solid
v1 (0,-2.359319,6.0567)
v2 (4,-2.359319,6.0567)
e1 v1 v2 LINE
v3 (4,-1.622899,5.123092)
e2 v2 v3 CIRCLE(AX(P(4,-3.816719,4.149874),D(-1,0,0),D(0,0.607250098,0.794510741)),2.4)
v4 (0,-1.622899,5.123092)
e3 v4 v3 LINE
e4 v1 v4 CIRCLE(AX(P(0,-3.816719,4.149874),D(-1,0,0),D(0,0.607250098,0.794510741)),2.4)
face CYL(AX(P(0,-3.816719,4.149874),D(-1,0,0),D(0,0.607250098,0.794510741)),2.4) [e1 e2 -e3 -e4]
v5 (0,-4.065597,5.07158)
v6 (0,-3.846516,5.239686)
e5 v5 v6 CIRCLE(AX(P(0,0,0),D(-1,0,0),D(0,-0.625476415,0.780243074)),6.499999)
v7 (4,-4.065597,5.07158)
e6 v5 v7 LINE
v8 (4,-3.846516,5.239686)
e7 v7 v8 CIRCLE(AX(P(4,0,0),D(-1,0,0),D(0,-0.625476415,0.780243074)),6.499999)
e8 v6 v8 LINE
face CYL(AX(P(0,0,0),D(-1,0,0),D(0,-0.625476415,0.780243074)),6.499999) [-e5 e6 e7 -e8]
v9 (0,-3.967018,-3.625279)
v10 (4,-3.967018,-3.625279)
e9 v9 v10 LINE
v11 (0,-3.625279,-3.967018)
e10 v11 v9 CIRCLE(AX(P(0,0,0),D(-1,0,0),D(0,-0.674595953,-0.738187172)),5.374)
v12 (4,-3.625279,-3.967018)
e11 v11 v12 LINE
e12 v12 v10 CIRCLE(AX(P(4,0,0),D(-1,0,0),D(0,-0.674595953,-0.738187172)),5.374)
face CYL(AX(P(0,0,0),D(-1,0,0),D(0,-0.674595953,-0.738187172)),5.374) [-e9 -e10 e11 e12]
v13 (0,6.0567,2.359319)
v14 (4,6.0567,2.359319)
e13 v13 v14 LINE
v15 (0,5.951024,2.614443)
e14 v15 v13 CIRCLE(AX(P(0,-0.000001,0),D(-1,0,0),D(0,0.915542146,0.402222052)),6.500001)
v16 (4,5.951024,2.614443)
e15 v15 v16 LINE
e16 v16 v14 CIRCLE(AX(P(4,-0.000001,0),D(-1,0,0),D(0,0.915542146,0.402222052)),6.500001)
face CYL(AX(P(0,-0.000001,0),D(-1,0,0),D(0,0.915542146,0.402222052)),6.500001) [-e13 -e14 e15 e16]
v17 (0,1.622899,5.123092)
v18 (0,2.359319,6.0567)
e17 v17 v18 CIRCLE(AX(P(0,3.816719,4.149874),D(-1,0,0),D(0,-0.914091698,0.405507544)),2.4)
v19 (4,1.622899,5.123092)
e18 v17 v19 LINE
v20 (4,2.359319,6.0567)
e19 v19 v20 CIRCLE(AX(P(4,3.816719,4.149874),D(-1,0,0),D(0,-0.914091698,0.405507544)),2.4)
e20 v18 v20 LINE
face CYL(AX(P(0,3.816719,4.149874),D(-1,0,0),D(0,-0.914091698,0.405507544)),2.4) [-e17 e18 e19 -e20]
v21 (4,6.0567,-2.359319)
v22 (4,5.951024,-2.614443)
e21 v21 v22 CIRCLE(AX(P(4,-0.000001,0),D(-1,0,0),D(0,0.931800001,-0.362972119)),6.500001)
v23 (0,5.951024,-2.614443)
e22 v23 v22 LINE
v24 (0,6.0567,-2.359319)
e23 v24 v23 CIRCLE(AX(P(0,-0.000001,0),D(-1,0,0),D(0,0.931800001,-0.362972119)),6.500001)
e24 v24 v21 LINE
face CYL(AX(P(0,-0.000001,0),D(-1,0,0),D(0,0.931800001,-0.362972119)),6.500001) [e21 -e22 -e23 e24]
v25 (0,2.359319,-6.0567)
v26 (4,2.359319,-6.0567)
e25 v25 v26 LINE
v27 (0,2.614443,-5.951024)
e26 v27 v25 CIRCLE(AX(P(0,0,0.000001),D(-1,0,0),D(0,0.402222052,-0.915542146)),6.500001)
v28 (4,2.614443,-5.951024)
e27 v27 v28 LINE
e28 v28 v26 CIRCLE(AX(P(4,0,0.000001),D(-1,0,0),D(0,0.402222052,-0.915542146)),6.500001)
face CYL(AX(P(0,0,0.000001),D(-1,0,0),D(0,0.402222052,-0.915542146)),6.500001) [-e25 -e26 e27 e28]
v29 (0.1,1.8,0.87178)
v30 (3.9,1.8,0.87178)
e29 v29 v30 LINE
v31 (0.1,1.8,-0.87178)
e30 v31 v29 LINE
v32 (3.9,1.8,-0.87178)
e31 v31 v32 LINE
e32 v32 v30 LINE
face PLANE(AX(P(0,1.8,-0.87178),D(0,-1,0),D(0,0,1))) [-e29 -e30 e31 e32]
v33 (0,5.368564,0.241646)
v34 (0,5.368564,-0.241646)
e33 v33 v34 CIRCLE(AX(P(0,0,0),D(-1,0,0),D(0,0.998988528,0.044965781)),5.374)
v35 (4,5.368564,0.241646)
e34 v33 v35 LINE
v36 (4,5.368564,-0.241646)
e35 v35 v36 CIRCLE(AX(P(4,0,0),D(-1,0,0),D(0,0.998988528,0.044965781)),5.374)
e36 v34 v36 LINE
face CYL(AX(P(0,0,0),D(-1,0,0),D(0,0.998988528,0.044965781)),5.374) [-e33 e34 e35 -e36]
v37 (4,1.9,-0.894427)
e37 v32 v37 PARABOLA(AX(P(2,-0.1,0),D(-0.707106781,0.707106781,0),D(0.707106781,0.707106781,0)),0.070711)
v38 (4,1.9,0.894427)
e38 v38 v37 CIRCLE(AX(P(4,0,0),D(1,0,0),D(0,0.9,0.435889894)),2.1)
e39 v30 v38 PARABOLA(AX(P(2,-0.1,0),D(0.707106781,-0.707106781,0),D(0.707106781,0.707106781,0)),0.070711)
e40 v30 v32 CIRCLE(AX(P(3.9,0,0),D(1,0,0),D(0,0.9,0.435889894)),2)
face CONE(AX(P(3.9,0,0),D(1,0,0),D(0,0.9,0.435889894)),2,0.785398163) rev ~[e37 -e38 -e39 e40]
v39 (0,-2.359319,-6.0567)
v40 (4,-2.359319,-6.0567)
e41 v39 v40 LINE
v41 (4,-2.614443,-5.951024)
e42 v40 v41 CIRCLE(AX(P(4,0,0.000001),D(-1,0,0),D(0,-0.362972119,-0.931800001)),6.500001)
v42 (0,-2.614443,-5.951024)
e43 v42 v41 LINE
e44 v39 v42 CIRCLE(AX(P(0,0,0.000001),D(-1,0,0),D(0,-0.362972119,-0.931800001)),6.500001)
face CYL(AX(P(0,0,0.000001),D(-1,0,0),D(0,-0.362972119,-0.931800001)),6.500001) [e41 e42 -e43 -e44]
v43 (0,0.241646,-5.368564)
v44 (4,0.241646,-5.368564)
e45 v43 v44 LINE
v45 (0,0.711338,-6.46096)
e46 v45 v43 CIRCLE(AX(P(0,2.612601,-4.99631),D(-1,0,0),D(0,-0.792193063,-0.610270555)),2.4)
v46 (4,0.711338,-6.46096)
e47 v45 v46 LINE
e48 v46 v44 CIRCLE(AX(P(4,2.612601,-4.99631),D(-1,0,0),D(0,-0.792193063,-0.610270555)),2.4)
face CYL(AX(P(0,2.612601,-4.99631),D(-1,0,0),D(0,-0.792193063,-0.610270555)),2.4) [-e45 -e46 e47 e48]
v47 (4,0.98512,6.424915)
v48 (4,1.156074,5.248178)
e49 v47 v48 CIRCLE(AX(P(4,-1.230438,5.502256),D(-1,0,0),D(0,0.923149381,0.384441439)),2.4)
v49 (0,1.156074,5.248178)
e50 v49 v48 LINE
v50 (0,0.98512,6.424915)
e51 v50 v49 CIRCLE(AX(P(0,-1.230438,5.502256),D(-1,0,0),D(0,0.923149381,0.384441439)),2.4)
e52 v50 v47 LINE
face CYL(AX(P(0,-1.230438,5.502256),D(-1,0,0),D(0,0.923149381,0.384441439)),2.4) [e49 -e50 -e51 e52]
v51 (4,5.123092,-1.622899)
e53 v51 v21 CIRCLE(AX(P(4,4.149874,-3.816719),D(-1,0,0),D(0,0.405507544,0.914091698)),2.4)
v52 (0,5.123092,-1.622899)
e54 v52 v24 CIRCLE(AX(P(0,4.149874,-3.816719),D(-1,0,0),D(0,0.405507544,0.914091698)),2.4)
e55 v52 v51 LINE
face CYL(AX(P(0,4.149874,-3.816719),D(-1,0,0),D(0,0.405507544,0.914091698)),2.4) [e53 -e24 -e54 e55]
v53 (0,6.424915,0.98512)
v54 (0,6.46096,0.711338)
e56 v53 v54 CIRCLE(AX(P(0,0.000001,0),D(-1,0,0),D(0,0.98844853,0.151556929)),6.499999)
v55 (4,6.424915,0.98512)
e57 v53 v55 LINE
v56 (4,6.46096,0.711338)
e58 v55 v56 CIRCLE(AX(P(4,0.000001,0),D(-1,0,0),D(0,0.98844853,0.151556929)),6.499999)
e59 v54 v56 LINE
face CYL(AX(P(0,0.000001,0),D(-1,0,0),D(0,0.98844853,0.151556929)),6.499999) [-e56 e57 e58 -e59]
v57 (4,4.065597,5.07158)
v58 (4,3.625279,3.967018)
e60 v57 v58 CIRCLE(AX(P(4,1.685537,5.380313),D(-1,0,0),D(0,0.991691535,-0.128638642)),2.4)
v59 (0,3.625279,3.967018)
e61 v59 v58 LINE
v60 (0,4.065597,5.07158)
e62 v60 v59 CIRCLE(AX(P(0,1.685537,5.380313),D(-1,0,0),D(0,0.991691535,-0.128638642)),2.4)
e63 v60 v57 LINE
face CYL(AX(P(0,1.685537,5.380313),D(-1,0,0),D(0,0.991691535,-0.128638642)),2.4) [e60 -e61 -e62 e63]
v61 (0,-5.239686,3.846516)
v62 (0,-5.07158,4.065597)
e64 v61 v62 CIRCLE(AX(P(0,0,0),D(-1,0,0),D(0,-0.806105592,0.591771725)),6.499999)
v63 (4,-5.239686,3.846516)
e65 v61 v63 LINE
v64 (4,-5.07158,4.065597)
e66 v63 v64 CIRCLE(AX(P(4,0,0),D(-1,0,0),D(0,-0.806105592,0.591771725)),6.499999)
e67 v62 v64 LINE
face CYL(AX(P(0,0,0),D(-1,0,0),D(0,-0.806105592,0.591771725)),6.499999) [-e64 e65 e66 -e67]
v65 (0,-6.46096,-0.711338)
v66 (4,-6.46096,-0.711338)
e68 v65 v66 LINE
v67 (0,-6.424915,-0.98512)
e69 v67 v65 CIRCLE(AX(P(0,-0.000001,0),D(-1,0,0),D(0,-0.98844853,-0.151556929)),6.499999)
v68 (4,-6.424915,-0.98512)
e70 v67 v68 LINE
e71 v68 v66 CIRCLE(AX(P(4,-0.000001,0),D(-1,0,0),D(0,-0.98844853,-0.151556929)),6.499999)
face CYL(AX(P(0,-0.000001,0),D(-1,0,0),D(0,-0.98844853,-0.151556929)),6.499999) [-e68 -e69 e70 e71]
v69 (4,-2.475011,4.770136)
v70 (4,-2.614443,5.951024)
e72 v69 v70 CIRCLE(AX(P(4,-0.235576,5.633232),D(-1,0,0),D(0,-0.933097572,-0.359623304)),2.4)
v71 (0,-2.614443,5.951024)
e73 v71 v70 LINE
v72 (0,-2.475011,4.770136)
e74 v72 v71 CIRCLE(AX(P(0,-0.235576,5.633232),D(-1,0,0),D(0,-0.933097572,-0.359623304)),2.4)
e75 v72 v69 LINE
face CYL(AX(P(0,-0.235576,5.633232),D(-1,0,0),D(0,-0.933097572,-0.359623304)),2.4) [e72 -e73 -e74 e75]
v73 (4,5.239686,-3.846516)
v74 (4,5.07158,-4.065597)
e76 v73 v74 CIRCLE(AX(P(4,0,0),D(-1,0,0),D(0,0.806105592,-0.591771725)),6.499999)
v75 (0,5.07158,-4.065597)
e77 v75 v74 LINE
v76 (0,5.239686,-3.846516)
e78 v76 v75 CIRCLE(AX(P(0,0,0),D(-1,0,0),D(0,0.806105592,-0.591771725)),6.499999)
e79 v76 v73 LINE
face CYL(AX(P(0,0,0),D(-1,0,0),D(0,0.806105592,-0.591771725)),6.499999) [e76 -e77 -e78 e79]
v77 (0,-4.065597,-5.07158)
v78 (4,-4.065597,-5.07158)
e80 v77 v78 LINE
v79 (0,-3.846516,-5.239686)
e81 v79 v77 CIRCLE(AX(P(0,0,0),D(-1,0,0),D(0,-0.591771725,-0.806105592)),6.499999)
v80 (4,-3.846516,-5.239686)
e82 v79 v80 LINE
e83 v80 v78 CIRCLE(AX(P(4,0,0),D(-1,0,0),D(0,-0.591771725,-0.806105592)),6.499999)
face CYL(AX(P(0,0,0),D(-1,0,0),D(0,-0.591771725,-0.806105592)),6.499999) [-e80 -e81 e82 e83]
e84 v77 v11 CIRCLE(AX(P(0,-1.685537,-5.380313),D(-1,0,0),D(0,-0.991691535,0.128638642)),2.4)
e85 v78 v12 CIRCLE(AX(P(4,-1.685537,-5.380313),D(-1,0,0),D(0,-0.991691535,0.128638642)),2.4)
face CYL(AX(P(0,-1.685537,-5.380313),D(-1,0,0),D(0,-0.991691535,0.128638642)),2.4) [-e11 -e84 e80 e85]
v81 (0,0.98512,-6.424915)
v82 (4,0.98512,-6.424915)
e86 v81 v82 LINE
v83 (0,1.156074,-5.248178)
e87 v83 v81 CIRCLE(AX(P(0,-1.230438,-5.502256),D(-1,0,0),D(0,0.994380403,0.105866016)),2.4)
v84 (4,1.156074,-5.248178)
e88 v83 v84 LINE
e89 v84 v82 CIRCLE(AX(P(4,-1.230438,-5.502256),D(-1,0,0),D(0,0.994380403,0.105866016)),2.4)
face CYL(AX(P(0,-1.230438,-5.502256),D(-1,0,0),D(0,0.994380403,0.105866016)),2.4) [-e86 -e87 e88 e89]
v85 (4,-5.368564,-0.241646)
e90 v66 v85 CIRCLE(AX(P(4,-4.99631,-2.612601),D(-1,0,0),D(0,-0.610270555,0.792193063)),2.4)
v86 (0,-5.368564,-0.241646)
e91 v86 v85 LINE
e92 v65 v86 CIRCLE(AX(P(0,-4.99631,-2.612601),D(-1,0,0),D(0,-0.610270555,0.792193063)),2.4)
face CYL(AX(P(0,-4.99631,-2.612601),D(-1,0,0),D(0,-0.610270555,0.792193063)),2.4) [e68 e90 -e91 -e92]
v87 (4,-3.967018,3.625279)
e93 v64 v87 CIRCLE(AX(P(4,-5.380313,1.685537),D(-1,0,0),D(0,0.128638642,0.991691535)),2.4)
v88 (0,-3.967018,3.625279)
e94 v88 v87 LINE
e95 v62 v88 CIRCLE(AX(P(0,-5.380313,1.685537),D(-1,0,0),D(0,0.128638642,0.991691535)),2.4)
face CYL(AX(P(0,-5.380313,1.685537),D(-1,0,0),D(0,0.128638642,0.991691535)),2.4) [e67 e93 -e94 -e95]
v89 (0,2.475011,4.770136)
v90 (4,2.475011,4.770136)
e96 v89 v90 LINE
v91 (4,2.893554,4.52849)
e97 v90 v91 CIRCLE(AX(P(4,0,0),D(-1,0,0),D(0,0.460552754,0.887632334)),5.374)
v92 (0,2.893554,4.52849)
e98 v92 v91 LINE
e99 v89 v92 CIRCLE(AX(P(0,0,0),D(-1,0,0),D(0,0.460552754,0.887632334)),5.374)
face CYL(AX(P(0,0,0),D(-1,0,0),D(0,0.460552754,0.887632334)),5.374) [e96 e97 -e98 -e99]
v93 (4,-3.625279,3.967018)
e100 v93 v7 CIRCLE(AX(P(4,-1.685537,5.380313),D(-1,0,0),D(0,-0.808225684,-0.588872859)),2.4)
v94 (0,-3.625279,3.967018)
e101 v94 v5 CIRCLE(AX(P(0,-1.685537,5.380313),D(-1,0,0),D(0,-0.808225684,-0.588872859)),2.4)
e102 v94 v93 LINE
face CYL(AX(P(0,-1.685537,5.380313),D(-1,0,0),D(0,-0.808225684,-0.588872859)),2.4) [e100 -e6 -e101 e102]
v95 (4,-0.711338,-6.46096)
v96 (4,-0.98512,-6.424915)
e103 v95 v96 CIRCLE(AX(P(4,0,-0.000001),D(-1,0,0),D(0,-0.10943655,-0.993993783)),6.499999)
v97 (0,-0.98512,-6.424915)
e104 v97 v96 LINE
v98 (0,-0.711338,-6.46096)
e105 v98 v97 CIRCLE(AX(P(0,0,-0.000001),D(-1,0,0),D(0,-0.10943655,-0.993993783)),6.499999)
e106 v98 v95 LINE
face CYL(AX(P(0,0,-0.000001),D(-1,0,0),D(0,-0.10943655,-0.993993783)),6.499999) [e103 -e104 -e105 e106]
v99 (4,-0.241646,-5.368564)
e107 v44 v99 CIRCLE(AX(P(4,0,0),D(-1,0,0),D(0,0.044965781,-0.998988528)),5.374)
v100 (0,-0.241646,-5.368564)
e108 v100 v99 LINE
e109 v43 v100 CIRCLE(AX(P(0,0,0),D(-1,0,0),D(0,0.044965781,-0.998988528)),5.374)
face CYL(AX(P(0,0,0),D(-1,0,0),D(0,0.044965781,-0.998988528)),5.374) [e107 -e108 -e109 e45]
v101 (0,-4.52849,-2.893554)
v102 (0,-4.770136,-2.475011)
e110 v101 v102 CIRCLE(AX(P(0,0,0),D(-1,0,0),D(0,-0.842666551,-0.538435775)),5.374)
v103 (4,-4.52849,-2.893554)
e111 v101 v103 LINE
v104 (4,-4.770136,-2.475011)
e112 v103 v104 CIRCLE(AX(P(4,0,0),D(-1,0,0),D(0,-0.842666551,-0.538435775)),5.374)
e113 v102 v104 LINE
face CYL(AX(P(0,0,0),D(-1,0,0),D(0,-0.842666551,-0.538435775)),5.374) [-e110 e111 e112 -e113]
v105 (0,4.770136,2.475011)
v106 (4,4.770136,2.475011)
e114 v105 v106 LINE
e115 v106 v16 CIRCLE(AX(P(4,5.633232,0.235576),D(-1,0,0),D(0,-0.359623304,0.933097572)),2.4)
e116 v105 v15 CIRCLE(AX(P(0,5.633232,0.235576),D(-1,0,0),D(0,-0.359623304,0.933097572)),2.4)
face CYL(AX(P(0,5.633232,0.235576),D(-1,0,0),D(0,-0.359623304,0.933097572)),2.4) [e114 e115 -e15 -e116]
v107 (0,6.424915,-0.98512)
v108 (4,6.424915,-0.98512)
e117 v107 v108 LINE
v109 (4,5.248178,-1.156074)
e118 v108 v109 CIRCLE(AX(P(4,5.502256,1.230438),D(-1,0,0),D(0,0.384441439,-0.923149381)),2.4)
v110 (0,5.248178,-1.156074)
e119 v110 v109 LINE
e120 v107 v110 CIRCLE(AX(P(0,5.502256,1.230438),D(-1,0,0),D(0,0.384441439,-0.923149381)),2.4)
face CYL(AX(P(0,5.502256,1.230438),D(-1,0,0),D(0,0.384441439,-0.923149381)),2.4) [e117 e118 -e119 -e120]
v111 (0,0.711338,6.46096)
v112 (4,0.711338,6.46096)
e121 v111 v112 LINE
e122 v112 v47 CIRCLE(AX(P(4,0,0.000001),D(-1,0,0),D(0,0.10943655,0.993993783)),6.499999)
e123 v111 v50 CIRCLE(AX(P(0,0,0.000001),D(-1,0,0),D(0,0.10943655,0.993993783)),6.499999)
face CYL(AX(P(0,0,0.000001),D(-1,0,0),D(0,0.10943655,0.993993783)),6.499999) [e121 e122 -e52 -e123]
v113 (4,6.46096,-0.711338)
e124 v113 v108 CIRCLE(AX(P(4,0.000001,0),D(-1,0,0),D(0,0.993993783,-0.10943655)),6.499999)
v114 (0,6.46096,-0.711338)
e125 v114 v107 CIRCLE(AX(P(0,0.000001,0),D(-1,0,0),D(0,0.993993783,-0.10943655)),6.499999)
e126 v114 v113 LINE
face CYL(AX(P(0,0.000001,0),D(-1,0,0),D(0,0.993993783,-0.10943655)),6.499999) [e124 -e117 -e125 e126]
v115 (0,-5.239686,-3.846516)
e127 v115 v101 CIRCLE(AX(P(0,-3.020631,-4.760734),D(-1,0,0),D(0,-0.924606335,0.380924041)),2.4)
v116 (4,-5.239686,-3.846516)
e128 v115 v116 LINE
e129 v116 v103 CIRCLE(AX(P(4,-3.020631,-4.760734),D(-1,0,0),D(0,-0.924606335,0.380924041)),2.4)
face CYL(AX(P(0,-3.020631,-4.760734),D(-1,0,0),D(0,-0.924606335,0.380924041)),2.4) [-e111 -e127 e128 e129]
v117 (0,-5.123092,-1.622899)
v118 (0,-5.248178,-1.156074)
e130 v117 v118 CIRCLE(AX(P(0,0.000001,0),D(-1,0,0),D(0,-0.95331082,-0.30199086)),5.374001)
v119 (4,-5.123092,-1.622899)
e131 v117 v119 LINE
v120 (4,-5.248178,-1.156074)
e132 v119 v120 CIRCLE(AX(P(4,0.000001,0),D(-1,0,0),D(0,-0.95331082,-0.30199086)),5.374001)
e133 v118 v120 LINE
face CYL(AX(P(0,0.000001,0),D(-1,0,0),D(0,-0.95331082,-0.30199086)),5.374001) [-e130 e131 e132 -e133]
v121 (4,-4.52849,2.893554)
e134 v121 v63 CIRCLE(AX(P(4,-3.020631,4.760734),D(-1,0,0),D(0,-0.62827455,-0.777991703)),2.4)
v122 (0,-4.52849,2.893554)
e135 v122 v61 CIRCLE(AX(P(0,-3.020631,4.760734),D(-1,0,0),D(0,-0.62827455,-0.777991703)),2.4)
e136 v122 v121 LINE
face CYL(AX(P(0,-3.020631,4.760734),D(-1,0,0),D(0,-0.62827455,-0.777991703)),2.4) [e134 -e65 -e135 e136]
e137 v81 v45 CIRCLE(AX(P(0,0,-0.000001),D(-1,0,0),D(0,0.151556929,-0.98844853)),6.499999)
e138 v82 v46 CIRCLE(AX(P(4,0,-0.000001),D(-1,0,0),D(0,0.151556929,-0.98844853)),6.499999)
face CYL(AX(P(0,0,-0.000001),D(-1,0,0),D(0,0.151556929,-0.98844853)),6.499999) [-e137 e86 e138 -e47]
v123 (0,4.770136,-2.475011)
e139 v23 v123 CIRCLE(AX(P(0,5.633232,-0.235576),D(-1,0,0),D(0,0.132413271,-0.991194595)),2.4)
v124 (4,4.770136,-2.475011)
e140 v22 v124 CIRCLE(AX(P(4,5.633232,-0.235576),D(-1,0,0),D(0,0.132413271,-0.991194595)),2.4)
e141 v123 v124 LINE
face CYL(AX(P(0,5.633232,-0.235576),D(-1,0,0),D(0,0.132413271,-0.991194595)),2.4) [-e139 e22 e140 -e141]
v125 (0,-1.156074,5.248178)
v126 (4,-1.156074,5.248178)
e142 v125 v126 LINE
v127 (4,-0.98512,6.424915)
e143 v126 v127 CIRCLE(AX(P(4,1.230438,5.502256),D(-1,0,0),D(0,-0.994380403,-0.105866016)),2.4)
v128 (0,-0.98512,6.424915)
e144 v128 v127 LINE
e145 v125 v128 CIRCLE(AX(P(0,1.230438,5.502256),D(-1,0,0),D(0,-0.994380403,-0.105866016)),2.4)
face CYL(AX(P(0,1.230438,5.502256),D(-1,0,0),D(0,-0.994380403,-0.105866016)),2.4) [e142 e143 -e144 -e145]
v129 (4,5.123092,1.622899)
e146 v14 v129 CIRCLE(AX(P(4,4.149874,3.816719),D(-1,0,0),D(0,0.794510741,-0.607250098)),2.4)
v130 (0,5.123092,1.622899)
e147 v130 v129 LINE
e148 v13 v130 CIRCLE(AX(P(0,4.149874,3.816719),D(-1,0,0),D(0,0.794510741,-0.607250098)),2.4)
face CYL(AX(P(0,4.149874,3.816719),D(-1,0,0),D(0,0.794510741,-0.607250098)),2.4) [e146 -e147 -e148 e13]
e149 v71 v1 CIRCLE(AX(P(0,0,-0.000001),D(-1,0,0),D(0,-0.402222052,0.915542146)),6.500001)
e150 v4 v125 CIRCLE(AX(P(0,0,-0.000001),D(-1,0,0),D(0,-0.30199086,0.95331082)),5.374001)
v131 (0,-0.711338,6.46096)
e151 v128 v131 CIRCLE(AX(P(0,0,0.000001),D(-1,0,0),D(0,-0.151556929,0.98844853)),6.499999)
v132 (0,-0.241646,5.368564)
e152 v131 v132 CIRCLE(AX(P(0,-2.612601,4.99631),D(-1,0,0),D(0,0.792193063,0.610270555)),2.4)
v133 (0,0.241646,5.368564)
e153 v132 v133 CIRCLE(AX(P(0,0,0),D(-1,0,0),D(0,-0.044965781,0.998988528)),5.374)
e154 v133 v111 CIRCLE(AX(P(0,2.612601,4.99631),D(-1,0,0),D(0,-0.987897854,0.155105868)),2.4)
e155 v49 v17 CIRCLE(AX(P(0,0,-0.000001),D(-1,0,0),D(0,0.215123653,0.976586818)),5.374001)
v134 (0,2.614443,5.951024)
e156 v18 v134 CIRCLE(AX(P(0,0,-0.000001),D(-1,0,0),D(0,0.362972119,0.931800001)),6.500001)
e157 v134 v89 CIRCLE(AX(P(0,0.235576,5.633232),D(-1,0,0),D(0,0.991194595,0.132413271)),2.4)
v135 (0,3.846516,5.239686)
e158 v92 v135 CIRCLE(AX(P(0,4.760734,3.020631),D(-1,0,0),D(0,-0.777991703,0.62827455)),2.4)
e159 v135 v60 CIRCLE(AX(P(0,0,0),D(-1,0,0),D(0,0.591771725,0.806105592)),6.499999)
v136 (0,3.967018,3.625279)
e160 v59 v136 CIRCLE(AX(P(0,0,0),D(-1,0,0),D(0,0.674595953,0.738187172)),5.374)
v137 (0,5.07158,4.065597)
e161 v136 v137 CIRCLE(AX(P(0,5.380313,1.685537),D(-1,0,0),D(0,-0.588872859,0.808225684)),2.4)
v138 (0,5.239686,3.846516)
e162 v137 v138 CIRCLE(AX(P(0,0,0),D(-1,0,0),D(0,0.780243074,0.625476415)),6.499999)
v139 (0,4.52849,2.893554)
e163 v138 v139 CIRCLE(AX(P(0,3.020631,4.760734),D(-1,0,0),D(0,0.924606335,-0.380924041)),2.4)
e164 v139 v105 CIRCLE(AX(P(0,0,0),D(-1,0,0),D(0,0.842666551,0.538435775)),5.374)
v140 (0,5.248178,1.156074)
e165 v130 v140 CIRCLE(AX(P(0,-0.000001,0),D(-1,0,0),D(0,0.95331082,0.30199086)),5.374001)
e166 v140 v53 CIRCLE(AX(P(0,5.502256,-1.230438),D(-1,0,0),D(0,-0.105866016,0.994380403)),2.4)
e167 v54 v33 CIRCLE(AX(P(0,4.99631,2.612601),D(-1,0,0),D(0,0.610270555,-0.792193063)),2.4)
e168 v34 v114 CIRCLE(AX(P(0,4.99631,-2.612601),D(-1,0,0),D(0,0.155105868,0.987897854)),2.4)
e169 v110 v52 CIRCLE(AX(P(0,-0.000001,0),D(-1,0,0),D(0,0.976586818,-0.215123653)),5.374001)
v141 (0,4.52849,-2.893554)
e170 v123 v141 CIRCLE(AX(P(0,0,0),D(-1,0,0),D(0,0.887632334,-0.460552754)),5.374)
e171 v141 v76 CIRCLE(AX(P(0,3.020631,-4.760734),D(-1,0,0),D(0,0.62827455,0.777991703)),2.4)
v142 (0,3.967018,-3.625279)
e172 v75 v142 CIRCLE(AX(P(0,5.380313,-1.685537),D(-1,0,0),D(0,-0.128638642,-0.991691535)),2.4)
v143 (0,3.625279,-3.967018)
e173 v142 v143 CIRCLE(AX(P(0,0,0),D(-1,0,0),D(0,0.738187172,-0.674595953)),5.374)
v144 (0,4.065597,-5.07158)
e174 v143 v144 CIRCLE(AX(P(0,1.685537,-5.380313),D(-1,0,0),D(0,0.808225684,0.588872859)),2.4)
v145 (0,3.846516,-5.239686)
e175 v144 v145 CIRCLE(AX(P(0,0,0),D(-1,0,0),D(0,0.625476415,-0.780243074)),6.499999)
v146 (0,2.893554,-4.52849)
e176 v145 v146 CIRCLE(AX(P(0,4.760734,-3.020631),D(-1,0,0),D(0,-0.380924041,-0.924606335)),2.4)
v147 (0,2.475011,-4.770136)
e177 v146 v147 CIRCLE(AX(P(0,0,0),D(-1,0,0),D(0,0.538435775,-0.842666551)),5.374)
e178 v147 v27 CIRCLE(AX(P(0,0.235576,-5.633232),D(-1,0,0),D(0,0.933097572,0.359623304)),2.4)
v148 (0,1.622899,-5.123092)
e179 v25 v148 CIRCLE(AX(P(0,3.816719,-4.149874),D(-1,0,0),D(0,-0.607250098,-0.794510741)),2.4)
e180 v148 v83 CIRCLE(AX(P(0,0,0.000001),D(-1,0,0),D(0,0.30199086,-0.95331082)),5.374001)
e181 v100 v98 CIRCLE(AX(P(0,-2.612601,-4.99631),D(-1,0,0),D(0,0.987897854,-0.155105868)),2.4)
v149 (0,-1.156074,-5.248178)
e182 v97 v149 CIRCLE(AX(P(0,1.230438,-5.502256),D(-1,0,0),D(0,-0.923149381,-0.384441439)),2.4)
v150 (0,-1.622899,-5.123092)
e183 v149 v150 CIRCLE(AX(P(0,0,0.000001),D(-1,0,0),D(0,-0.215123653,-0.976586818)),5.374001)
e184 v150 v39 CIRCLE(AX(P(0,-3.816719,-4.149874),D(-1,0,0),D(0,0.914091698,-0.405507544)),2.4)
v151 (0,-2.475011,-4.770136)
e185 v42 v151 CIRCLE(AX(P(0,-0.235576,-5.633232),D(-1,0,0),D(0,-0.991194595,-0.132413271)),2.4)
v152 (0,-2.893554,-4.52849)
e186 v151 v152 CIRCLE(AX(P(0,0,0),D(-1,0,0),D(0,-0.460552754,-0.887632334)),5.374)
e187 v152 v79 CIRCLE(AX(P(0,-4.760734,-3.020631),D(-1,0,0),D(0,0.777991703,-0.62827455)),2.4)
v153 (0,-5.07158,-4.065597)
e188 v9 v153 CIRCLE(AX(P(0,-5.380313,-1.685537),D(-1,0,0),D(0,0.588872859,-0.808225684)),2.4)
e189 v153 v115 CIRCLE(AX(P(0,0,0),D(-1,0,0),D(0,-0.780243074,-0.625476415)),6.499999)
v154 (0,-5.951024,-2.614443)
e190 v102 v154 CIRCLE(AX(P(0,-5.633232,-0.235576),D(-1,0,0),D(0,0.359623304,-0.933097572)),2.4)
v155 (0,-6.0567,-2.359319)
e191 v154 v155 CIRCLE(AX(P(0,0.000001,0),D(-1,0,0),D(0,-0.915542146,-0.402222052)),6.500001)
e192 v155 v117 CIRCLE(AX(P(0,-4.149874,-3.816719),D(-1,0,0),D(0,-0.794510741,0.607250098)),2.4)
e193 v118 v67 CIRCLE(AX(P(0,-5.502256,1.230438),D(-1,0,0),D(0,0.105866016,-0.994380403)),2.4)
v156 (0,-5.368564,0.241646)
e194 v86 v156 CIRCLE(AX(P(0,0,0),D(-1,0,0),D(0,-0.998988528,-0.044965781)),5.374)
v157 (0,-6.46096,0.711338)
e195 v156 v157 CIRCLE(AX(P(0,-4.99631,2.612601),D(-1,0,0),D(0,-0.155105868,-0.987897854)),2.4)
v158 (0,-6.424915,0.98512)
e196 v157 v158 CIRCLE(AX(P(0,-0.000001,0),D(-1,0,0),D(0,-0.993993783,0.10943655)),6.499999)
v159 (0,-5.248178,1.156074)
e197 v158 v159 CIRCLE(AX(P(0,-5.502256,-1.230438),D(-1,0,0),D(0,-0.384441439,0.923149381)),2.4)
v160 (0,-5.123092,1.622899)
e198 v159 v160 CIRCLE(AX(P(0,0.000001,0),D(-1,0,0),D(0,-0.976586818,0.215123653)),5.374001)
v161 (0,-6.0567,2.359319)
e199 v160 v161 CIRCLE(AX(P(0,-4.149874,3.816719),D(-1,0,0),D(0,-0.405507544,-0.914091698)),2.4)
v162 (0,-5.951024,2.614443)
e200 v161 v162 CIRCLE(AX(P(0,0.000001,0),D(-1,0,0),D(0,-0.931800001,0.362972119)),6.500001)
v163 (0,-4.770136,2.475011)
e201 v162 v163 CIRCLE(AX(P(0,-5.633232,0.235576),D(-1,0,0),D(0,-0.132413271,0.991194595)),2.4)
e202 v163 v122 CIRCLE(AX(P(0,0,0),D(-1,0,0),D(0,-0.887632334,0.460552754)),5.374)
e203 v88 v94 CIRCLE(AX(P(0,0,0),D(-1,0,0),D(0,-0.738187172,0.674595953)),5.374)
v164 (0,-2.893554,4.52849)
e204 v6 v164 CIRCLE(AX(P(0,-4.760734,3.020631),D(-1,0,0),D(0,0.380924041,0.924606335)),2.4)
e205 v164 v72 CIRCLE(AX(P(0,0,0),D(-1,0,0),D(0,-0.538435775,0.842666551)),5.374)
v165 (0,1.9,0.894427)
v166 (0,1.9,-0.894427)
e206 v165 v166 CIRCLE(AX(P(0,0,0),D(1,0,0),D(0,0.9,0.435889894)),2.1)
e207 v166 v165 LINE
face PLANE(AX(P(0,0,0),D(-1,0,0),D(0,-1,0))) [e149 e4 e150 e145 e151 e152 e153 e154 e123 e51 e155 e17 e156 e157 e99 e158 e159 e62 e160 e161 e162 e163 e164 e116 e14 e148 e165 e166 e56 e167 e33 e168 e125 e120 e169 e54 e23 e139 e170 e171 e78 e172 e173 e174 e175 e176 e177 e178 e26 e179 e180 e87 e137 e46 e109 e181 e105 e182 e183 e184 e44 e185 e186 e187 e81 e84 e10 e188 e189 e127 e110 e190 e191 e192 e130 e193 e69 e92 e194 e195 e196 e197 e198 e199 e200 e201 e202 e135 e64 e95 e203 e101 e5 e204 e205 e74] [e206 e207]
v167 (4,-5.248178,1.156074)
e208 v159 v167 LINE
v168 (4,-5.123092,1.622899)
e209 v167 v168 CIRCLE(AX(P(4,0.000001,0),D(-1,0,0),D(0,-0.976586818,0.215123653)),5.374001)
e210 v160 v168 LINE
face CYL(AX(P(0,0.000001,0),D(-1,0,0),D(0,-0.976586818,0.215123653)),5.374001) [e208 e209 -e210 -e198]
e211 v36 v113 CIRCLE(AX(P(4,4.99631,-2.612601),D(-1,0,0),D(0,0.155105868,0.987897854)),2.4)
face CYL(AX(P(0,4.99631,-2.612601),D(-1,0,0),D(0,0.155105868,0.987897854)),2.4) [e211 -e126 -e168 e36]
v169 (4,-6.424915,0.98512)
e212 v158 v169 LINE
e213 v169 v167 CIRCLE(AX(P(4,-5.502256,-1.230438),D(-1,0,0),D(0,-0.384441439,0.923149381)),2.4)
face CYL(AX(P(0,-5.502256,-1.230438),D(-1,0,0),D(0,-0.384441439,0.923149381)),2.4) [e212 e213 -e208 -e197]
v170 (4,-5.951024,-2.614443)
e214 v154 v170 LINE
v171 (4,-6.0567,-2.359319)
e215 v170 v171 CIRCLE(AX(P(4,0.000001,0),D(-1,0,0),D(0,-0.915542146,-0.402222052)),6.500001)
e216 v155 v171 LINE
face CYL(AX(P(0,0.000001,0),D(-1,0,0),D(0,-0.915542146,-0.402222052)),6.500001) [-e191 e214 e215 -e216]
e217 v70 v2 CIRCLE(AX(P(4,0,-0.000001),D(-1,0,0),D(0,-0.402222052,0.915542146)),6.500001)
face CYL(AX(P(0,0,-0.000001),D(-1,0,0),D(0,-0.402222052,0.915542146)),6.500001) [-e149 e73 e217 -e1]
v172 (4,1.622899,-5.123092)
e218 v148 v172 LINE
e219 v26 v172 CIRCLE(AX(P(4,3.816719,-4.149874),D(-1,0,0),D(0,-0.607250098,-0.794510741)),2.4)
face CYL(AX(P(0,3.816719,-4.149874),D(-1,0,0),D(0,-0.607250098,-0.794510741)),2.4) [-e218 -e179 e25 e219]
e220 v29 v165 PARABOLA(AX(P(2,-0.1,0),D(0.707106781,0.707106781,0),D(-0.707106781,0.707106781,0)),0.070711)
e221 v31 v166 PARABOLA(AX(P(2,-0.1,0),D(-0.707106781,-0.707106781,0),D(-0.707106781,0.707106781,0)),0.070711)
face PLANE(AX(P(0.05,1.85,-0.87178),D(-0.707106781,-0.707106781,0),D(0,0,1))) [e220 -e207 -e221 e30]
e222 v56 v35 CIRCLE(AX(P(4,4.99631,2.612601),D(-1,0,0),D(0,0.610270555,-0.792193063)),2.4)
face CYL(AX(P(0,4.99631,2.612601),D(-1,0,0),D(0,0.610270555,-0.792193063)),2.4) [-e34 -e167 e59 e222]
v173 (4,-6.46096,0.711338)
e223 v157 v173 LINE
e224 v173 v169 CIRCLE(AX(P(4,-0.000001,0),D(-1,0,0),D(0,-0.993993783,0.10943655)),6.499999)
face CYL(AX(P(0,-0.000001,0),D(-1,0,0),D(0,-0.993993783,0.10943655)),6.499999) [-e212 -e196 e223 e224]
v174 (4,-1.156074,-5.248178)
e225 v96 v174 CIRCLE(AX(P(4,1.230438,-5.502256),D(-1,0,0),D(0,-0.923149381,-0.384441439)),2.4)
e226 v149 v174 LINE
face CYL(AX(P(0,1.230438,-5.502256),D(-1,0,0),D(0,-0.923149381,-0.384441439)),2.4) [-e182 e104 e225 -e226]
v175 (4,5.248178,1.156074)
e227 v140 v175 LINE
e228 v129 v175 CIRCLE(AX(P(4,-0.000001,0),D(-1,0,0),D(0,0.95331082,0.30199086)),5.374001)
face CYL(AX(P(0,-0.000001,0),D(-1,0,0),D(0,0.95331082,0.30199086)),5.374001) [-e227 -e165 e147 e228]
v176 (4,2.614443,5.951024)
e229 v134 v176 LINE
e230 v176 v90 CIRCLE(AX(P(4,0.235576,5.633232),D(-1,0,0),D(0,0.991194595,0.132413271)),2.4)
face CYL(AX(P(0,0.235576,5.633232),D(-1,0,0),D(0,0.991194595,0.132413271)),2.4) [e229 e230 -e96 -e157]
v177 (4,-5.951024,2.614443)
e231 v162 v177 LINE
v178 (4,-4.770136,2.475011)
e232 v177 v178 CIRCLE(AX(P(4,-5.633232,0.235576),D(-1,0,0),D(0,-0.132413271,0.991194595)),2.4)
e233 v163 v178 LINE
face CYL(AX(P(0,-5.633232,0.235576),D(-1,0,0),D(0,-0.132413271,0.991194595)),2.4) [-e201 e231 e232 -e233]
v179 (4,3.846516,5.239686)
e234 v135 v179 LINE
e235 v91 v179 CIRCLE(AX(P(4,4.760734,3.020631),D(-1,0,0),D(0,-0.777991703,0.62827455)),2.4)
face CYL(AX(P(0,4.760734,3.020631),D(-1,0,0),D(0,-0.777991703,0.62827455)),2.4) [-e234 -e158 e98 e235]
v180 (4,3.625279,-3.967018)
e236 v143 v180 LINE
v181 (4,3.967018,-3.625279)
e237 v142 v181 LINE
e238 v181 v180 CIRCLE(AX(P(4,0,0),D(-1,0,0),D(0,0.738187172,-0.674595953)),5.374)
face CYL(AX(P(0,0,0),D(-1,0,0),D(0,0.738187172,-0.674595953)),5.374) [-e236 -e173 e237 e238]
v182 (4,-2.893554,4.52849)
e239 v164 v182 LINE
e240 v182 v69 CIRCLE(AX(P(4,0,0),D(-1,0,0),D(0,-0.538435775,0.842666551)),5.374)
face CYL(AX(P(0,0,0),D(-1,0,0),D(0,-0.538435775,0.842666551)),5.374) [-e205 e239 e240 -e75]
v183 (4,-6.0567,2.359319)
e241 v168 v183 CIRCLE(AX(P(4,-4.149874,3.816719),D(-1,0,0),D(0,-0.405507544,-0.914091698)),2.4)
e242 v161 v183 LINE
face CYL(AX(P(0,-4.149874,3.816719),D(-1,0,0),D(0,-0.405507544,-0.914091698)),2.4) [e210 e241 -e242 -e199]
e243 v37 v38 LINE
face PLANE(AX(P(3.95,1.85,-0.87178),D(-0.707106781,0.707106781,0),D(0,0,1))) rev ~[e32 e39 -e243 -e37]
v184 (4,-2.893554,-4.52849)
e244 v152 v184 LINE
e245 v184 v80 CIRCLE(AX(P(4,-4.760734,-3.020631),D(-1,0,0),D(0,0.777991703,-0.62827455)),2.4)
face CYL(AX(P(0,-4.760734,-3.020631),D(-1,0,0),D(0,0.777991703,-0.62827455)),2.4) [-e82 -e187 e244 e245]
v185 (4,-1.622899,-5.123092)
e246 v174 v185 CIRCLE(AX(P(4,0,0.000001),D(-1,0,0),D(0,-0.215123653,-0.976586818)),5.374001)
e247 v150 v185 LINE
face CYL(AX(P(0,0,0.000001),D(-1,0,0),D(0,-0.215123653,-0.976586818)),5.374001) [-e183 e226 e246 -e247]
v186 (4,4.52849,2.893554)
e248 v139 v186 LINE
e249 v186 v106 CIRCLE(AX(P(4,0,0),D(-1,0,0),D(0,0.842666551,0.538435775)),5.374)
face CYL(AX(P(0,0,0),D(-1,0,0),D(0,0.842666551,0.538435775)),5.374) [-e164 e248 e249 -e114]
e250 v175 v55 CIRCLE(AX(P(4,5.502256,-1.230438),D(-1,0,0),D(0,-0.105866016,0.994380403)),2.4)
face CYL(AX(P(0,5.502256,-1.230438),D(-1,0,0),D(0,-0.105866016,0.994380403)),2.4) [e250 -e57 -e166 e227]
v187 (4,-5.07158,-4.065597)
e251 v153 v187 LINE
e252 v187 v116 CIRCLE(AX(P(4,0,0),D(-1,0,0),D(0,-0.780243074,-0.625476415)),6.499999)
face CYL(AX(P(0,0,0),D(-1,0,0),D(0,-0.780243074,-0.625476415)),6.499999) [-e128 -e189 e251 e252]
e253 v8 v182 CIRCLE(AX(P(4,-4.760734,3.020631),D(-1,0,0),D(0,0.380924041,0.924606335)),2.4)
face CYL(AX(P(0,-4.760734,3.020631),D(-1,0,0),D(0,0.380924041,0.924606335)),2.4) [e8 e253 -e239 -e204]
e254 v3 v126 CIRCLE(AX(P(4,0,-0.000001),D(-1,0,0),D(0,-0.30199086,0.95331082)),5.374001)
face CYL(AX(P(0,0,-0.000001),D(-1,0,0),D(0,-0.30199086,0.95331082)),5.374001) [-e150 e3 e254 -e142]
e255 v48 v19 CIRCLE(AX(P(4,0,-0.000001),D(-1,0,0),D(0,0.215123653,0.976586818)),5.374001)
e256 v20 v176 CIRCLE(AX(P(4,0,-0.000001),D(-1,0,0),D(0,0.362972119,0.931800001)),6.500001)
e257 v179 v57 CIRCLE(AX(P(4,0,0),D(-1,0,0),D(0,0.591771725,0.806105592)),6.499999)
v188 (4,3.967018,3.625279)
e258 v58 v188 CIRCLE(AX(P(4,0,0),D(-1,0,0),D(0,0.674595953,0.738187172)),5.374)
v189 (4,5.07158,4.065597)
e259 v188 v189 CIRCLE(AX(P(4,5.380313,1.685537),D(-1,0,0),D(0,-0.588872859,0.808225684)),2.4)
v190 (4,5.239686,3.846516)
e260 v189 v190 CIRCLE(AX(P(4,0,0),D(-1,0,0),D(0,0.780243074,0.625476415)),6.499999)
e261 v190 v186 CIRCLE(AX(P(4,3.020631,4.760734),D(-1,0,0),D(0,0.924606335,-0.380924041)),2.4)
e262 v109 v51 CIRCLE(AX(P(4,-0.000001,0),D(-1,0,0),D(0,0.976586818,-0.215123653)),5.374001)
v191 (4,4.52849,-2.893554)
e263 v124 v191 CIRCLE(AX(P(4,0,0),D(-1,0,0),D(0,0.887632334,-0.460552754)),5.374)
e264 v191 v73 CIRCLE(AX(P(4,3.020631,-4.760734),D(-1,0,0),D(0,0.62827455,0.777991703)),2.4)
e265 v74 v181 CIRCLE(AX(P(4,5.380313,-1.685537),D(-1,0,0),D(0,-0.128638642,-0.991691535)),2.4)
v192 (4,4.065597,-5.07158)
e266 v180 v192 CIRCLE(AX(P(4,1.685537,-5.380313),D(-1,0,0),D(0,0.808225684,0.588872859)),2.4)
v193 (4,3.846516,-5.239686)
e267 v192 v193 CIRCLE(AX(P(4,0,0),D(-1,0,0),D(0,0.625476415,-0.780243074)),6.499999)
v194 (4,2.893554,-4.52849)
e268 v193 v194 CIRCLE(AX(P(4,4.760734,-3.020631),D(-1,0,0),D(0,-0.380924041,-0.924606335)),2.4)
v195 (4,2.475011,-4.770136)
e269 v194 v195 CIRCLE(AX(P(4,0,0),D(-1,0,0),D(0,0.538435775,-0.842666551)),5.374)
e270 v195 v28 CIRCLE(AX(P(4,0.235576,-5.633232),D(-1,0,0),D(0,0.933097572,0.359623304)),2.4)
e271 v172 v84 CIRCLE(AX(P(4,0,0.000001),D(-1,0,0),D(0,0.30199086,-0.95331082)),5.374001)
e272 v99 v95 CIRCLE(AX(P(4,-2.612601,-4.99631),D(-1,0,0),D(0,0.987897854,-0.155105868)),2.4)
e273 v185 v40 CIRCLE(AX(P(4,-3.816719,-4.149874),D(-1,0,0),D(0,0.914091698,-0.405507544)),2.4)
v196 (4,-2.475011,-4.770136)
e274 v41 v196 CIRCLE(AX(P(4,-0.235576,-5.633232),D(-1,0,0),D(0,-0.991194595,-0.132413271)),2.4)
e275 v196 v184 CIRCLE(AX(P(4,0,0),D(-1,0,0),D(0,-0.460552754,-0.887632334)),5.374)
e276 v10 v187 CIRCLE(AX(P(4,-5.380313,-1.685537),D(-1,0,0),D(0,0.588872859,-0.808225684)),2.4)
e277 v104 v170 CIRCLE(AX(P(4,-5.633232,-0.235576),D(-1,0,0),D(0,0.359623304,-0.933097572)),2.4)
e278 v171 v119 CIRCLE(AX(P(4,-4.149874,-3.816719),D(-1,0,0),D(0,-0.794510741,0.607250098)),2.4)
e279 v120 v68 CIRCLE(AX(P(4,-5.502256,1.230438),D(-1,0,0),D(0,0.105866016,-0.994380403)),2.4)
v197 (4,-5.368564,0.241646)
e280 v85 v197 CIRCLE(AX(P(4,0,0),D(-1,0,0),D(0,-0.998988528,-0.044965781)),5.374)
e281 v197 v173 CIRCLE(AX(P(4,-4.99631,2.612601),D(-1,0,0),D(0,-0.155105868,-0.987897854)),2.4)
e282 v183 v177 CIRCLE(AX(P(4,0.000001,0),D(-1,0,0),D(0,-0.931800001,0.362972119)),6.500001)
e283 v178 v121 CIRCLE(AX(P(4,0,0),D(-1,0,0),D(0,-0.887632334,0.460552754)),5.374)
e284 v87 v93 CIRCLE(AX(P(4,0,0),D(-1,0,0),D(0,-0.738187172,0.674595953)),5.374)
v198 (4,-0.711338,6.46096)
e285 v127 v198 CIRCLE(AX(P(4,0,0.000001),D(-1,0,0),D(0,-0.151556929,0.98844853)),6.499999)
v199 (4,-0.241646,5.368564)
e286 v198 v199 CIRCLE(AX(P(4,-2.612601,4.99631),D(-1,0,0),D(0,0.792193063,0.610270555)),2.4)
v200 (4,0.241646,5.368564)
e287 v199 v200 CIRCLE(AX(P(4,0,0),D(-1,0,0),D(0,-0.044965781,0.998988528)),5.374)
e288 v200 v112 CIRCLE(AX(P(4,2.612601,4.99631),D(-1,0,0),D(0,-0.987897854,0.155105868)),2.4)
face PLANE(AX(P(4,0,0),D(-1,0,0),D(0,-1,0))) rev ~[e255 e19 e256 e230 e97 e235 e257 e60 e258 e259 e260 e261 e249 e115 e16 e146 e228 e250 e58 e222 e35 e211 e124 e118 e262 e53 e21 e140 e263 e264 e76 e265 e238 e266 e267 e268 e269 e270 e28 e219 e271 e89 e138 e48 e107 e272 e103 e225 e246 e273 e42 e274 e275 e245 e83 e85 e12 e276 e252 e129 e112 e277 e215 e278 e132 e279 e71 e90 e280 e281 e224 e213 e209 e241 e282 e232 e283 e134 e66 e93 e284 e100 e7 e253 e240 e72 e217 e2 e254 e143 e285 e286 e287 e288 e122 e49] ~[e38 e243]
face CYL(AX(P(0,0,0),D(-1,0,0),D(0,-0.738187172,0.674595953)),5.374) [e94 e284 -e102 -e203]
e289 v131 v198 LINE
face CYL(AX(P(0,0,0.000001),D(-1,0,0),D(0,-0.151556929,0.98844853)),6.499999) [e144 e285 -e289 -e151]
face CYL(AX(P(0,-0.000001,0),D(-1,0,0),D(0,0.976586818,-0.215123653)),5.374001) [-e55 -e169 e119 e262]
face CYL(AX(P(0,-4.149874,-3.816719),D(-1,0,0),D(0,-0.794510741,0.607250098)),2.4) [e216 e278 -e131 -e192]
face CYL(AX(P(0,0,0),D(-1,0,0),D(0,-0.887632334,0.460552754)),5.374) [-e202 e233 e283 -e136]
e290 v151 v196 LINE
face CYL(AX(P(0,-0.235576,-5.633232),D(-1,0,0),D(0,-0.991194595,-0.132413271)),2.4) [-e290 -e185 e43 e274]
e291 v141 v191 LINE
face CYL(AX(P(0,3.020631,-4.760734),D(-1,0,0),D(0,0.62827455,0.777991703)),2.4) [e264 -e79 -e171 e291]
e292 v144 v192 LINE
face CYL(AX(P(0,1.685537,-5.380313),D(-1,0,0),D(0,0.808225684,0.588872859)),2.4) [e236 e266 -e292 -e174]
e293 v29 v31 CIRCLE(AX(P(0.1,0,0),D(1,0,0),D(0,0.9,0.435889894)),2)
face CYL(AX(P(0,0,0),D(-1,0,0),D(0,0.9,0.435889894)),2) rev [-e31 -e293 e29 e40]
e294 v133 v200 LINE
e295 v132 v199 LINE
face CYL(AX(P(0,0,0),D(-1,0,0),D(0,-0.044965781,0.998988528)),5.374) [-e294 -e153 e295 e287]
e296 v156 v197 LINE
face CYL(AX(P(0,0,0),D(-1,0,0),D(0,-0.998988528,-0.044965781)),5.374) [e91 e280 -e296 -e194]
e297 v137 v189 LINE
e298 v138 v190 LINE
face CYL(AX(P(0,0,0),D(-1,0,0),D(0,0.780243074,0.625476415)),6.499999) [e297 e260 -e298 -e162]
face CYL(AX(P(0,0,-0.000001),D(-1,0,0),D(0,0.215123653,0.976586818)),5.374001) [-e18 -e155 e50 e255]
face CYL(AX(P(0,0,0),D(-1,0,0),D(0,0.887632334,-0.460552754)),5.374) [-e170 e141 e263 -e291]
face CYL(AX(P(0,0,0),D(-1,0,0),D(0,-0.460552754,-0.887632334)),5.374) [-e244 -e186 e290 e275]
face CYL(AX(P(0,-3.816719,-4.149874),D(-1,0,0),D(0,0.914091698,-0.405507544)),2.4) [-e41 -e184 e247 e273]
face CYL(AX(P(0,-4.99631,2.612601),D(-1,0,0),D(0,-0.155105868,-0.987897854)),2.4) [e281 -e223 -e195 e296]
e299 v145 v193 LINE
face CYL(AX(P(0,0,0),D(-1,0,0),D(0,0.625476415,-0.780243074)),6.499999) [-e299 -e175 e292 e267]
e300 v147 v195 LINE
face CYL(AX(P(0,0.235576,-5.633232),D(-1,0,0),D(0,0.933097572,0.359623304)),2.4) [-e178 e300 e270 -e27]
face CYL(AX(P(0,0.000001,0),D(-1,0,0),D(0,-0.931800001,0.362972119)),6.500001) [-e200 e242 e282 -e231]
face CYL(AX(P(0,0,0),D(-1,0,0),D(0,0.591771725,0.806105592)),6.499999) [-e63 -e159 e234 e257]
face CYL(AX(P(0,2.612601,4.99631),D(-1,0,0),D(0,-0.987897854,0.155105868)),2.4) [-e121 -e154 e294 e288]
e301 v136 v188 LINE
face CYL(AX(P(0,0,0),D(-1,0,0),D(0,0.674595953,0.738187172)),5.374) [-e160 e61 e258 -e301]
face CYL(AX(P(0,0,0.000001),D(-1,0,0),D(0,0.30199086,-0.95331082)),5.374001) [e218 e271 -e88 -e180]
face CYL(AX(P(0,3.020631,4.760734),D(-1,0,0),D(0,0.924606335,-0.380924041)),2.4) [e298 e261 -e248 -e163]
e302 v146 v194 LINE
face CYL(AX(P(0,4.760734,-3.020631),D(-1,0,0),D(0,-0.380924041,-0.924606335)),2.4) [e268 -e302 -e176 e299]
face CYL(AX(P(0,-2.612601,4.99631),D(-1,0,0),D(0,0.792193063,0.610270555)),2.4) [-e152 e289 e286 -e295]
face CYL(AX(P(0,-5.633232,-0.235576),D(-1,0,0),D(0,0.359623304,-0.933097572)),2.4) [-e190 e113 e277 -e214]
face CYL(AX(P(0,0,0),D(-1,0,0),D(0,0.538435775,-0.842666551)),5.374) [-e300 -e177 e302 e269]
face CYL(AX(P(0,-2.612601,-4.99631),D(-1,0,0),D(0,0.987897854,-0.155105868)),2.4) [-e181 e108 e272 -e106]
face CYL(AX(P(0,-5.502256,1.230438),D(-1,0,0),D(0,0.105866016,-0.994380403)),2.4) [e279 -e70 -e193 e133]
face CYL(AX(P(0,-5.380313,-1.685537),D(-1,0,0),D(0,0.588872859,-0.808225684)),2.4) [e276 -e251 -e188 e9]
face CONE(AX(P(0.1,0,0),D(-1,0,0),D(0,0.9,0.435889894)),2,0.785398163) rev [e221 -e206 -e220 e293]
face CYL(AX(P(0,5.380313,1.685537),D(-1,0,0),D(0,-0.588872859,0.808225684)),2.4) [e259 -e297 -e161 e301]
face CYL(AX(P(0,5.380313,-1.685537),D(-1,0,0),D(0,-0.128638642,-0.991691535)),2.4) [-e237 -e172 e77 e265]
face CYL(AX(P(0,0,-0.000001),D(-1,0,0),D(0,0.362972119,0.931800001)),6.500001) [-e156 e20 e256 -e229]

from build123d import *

# Parameters (mm, degrees)
EXTRUDE_1_DEPTH = 4
CHAMFER_1_SIZE  = 0.1


with BuildPart() as part:
    # 草图1 → 凸台-拉伸1 (new body)
    with BuildSketch(Plane(origin=(0, 0, 0), x_dir=(0, -1, 0), z_dir=(-1, 0, 0))):
        with BuildLine():
            ThreePointArc((-0.711337602, 6.460959589), (-0.848420249, 6.444391599), (-0.98512003, 6.424915449))
            ThreePointArc((-0.98512003, 6.424915449), (-1.144628565, 5.84730165), (-1.156074481, 5.248177569))
            ThreePointArc((-1.156074481, 5.248177569), (-1.390893548, 5.19088539), (-1.622898915, 5.123092339))
            ThreePointArc((-1.622898915, 5.123092339), (-1.93237341, 5.636226055), (-2.359318752, 6.056700011))
            ThreePointArc((-2.359318752, 6.056700011), (-2.48744231, 6.005216961), (-2.614443361, 5.951023938))
            ThreePointArc((-2.614443361, 5.951023938), (-2.619019322, 5.351808006), (-2.475010506, 4.770136161))
            ThreePointArc((-2.475010506, 4.770136161), (-2.687, 4.65402052), (-2.893553842, 4.528490053))
            ThreePointArc((-2.893553842, 4.528490053), (-3.325292028, 4.944041268), (-3.846516229, 5.239686336))
            ThreePointArc((-3.846516229, 5.239686336), (-3.956949289, 5.156796712), (-4.065596697, 5.071579981))
            ThreePointArc((-4.065596697, 5.071579981), (-3.91492824, 4.49159749), (-3.625278654, 3.967017857))
            ThreePointArc((-3.625278654, 3.967017857), (-3.799991842, 3.799991842), (-3.967017857, 3.625278654))
            ThreePointArc((-3.967017857, 3.625278654), (-4.49159749, 3.91492824), (-5.071579981, 4.065596697))
            ThreePointArc((-5.071579981, 4.065596697), (-5.156796712, 3.956949289), (-5.239686336, 3.846516229))
            ThreePointArc((-5.239686336, 3.846516229), (-4.944041268, 3.325292028), (-4.528490053, 2.893553842))
            ThreePointArc((-4.528490053, 2.893553842), (-4.65402052, 2.687), (-4.770136161, 2.475010506))
            ThreePointArc((-4.770136161, 2.475010506), (-5.351808006, 2.619019322), (-5.951023938, 2.614443361))
            ThreePointArc((-5.951023938, 2.614443361), (-6.005216961, 2.48744231), (-6.056700011, 2.359318752))
            ThreePointArc((-6.056700011, 2.359318752), (-5.636226055, 1.93237341), (-5.123092339, 1.622898915))
            ThreePointArc((-5.123092339, 1.622898915), (-5.19088539, 1.390893548), (-5.248177569, 1.156074481))
            ThreePointArc((-5.248177569, 1.156074481), (-5.84730165, 1.144628565), (-6.424915449, 0.98512003))
            ThreePointArc((-6.424915449, 0.98512003), (-6.444391599, 0.848420249), (-6.460959589, 0.711337602))
            ThreePointArc((-6.460959589, 0.711337602), (-5.94431135, 0.407766737), (-5.368564348, 0.241646108))
            ThreePointArc((-5.368564348, 0.241646108), (-5.374, 0), (-5.368564348, -0.241646108))
            ThreePointArc((-5.368564348, -0.241646108), (-5.94431135, -0.407766737), (-6.460959589, -0.711337602))
            ThreePointArc((-6.460959589, -0.711337602), (-6.444391599, -0.848420249), (-6.424915449, -0.98512003))
            ThreePointArc((-6.424915449, -0.98512003), (-5.84730165, -1.144628565), (-5.248177569, -1.156074481))
            ThreePointArc((-5.248177569, -1.156074481), (-5.19088539, -1.390893548), (-5.123092339, -1.622898915))
            ThreePointArc((-5.123092339, -1.622898915), (-5.636226055, -1.93237341), (-6.056700011, -2.359318752))
            ThreePointArc((-6.056700011, -2.359318752), (-6.005216961, -2.48744231), (-5.951023938, -2.614443361))
            ThreePointArc((-5.951023938, -2.614443361), (-5.351808006, -2.619019322), (-4.770136161, -2.475010506))
            ThreePointArc((-4.770136161, -2.475010506), (-4.65402052, -2.687), (-4.528490053, -2.893553842))
            ThreePointArc((-4.528490053, -2.893553842), (-4.944041268, -3.325292028), (-5.239686336, -3.846516229))
            ThreePointArc((-5.239686336, -3.846516229), (-5.156796712, -3.956949289), (-5.071579981, -4.065596697))
            ThreePointArc((-5.071579981, -4.065596697), (-4.49159749, -3.91492824), (-3.967017857, -3.625278654))
            ThreePointArc((-3.967017857, -3.625278654), (-3.799991842, -3.799991842), (-3.625278654, -3.967017857))
            ThreePointArc((-3.625278654, -3.967017857), (-3.91492824, -4.49159749), (-4.065596697, -5.071579981))
            ThreePointArc((-4.065596697, -5.071579981), (-3.956949289, -5.156796712), (-3.846516229, -5.239686336))
            ThreePointArc((-3.846516229, -5.239686336), (-3.325292028, -4.944041268), (-2.893553842, -4.528490053))
            ThreePointArc((-2.893553842, -4.528490053), (-2.687, -4.65402052), (-2.475010506, -4.770136161))
            ThreePointArc((-2.475010506, -4.770136161), (-2.619019322, -5.351808006), (-2.614443361, -5.951023938))
            ThreePointArc((-2.614443361, -5.951023938), (-2.48744231, -6.005216961), (-2.359318752, -6.056700011))
            ThreePointArc((-2.359318752, -6.056700011), (-1.93237341, -5.636226055), (-1.622898915, -5.123092339))
            ThreePointArc((-1.622898915, -5.123092339), (-1.390893548, -5.19088539), (-1.156074481, -5.248177569))
            ThreePointArc((-1.156074481, -5.248177569), (-1.144628565, -5.84730165), (-0.98512003, -6.424915449))
            ThreePointArc((-0.98512003, -6.424915449), (-0.848420249, -6.444391599), (-0.711337602, -6.460959589))
            ThreePointArc((-0.711337602, -6.460959589), (-0.407766737, -5.94431135), (-0.241646108, -5.368564348))
            ThreePointArc((-0.241646108, -5.368564348), (0, -5.374), (0.241646108, -5.368564348))
            ThreePointArc((0.241646108, -5.368564348), (0.407766737, -5.94431135), (0.711337602, -6.460959589))
            ThreePointArc((0.711337602, -6.460959589), (0.848420249, -6.444391599), (0.98512003, -6.424915449))
            ThreePointArc((0.98512003, -6.424915449), (1.144628565, -5.84730165), (1.156074481, -5.248177569))
            ThreePointArc((1.156074481, -5.248177569), (1.390893548, -5.19088539), (1.622898915, -5.123092339))
            ThreePointArc((1.622898915, -5.123092339), (1.93237341, -5.636226055), (2.359318752, -6.056700011))
            ThreePointArc((2.359318752, -6.056700011), (2.48744231, -6.005216961), (2.614443361, -5.951023938))
            ThreePointArc((2.614443361, -5.951023938), (2.619019322, -5.351808006), (2.475010506, -4.770136161))
            ThreePointArc((2.475010506, -4.770136161), (2.687, -4.65402052), (2.893553842, -4.528490053))
            ThreePointArc((2.893553842, -4.528490053), (3.325292028, -4.944041268), (3.846516229, -5.239686336))
            ThreePointArc((3.846516229, -5.239686336), (3.956949289, -5.156796712), (4.065596697, -5.071579981))
            ThreePointArc((4.065596697, -5.071579981), (3.91492824, -4.49159749), (3.625278654, -3.967017857))
            ThreePointArc((3.625278654, -3.967017857), (3.799991842, -3.799991842), (3.967017857, -3.625278654))
            ThreePointArc((3.967017857, -3.625278654), (4.49159749, -3.91492824), (5.071579981, -4.065596697))
            ThreePointArc((5.071579981, -4.065596697), (5.156796712, -3.956949289), (5.239686336, -3.846516229))
            ThreePointArc((5.239686336, -3.846516229), (4.944041268, -3.325292028), (4.528490053, -2.893553842))
            ThreePointArc((4.528490053, -2.893553842), (4.65402052, -2.687), (4.770136161, -2.475010506))
            ThreePointArc((4.770136161, -2.475010506), (5.351808006, -2.619019322), (5.951023938, -2.614443361))
            ThreePointArc((5.951023938, -2.614443361), (6.005216961, -2.48744231), (6.056700011, -2.359318752))
            ThreePointArc((6.056700011, -2.359318752), (5.636226055, -1.93237341), (5.123092339, -1.622898915))
            ThreePointArc((5.123092339, -1.622898915), (5.19088539, -1.390893548), (5.248177569, -1.156074481))
            ThreePointArc((5.248177569, -1.156074481), (5.84730165, -1.144628565), (6.424915449, -0.98512003))
            ThreePointArc((6.424915449, -0.98512003), (6.444391599, -0.848420249), (6.460959589, -0.711337602))
            ThreePointArc((6.460959589, -0.711337602), (5.94431135, -0.407766737), (5.368564348, -0.241646108))
            ThreePointArc((5.368564348, -0.241646108), (5.374, 0), (5.368564348, 0.241646108))
            ThreePointArc((5.368564348, 0.241646108), (5.94431135, 0.407766737), (6.460959589, 0.711337602))
            ThreePointArc((6.460959589, 0.711337602), (6.444391599, 0.848420249), (6.424915449, 0.98512003))
            ThreePointArc((6.424915449, 0.98512003), (5.84730165, 1.144628565), (5.248177569, 1.156074481))
            ThreePointArc((5.248177569, 1.156074481), (5.19088539, 1.390893548), (5.123092339, 1.622898915))
            ThreePointArc((5.123092339, 1.622898915), (5.636226055, 1.93237341), (6.056700011, 2.359318752))
            ThreePointArc((6.056700011, 2.359318752), (6.005216961, 2.48744231), (5.951023938, 2.614443361))
            ThreePointArc((5.951023938, 2.614443361), (5.351808006, 2.619019322), (4.770136161, 2.475010506))
            ThreePointArc((4.770136161, 2.475010506), (4.65402052, 2.687), (4.528490053, 2.893553842))
            ThreePointArc((4.528490053, 2.893553842), (4.944041268, 3.325292028), (5.239686336, 3.846516229))
            ThreePointArc((5.239686336, 3.846516229), (5.156796712, 3.956949289), (5.071579981, 4.065596697))
            ThreePointArc((5.071579981, 4.065596697), (4.49159749, 3.91492824), (3.967017857, 3.625278654))
            ThreePointArc((3.967017857, 3.625278654), (3.799991842, 3.799991842), (3.625278654, 3.967017857))
            ThreePointArc((3.625278654, 3.967017857), (3.91492824, 4.49159749), (4.065596697, 5.071579981))
            ThreePointArc((4.065596697, 5.071579981), (3.956949289, 5.156796712), (3.846516229, 5.239686336))
            ThreePointArc((3.846516229, 5.239686336), (3.325292028, 4.944041268), (2.893553842, 4.528490053))
            ThreePointArc((2.893553842, 4.528490053), (2.687, 4.65402052), (2.475010506, 4.770136161))
            ThreePointArc((2.475010506, 4.770136161), (2.619019322, 5.351808006), (2.614443361, 5.951023938))
            ThreePointArc((2.614443361, 5.951023938), (2.48744231, 6.005216961), (2.359318752, 6.056700011))
            ThreePointArc((2.359318752, 6.056700011), (1.93237341, 5.636226055), (1.622898915, 5.123092339))
            ThreePointArc((1.622898915, 5.123092339), (1.390893548, 5.19088539), (1.156074481, 5.248177569))
            ThreePointArc((1.156074481, 5.248177569), (1.144628565, 5.84730165), (0.98512003, 6.424915449))
            ThreePointArc((0.98512003, 6.424915449), (0.848420249, 6.444391599), (0.711337602, 6.460959589))
            ThreePointArc((0.711337602, 6.460959589), (0.407766737, 5.94431135), (0.241646108, 5.368564348))
            ThreePointArc((0.241646108, 5.368564348), (0, 5.374), (-0.241646108, 5.368564348))
            ThreePointArc((-0.241646108, 5.368564348), (-0.407766737, 5.94431135), (-0.711337602, 6.460959589))
        make_face()
        with BuildLine():
            Line((-1.8, -0.871779789), (-1.8, 0.871779789))
            ThreePointArc((-1.8, 0.871779789), (2, 0), (-1.8, -0.871779789))
        make_face(mode=Mode.SUBTRACT)
    extrude(amount=-EXTRUDE_1_DEPTH)

    # 倒角1
    chamfer_1_edges = [part.edges().sort_by_distance(p)[0] for p in [
        (4, -2, 0),
        (4, 1.8, 0),
        (0, -2, 0),
        (0, 1.8, 0),
    ]]
    chamfer(chamfer_1_edges, length=CHAMFER_1_SIZE)


solid = part.part
